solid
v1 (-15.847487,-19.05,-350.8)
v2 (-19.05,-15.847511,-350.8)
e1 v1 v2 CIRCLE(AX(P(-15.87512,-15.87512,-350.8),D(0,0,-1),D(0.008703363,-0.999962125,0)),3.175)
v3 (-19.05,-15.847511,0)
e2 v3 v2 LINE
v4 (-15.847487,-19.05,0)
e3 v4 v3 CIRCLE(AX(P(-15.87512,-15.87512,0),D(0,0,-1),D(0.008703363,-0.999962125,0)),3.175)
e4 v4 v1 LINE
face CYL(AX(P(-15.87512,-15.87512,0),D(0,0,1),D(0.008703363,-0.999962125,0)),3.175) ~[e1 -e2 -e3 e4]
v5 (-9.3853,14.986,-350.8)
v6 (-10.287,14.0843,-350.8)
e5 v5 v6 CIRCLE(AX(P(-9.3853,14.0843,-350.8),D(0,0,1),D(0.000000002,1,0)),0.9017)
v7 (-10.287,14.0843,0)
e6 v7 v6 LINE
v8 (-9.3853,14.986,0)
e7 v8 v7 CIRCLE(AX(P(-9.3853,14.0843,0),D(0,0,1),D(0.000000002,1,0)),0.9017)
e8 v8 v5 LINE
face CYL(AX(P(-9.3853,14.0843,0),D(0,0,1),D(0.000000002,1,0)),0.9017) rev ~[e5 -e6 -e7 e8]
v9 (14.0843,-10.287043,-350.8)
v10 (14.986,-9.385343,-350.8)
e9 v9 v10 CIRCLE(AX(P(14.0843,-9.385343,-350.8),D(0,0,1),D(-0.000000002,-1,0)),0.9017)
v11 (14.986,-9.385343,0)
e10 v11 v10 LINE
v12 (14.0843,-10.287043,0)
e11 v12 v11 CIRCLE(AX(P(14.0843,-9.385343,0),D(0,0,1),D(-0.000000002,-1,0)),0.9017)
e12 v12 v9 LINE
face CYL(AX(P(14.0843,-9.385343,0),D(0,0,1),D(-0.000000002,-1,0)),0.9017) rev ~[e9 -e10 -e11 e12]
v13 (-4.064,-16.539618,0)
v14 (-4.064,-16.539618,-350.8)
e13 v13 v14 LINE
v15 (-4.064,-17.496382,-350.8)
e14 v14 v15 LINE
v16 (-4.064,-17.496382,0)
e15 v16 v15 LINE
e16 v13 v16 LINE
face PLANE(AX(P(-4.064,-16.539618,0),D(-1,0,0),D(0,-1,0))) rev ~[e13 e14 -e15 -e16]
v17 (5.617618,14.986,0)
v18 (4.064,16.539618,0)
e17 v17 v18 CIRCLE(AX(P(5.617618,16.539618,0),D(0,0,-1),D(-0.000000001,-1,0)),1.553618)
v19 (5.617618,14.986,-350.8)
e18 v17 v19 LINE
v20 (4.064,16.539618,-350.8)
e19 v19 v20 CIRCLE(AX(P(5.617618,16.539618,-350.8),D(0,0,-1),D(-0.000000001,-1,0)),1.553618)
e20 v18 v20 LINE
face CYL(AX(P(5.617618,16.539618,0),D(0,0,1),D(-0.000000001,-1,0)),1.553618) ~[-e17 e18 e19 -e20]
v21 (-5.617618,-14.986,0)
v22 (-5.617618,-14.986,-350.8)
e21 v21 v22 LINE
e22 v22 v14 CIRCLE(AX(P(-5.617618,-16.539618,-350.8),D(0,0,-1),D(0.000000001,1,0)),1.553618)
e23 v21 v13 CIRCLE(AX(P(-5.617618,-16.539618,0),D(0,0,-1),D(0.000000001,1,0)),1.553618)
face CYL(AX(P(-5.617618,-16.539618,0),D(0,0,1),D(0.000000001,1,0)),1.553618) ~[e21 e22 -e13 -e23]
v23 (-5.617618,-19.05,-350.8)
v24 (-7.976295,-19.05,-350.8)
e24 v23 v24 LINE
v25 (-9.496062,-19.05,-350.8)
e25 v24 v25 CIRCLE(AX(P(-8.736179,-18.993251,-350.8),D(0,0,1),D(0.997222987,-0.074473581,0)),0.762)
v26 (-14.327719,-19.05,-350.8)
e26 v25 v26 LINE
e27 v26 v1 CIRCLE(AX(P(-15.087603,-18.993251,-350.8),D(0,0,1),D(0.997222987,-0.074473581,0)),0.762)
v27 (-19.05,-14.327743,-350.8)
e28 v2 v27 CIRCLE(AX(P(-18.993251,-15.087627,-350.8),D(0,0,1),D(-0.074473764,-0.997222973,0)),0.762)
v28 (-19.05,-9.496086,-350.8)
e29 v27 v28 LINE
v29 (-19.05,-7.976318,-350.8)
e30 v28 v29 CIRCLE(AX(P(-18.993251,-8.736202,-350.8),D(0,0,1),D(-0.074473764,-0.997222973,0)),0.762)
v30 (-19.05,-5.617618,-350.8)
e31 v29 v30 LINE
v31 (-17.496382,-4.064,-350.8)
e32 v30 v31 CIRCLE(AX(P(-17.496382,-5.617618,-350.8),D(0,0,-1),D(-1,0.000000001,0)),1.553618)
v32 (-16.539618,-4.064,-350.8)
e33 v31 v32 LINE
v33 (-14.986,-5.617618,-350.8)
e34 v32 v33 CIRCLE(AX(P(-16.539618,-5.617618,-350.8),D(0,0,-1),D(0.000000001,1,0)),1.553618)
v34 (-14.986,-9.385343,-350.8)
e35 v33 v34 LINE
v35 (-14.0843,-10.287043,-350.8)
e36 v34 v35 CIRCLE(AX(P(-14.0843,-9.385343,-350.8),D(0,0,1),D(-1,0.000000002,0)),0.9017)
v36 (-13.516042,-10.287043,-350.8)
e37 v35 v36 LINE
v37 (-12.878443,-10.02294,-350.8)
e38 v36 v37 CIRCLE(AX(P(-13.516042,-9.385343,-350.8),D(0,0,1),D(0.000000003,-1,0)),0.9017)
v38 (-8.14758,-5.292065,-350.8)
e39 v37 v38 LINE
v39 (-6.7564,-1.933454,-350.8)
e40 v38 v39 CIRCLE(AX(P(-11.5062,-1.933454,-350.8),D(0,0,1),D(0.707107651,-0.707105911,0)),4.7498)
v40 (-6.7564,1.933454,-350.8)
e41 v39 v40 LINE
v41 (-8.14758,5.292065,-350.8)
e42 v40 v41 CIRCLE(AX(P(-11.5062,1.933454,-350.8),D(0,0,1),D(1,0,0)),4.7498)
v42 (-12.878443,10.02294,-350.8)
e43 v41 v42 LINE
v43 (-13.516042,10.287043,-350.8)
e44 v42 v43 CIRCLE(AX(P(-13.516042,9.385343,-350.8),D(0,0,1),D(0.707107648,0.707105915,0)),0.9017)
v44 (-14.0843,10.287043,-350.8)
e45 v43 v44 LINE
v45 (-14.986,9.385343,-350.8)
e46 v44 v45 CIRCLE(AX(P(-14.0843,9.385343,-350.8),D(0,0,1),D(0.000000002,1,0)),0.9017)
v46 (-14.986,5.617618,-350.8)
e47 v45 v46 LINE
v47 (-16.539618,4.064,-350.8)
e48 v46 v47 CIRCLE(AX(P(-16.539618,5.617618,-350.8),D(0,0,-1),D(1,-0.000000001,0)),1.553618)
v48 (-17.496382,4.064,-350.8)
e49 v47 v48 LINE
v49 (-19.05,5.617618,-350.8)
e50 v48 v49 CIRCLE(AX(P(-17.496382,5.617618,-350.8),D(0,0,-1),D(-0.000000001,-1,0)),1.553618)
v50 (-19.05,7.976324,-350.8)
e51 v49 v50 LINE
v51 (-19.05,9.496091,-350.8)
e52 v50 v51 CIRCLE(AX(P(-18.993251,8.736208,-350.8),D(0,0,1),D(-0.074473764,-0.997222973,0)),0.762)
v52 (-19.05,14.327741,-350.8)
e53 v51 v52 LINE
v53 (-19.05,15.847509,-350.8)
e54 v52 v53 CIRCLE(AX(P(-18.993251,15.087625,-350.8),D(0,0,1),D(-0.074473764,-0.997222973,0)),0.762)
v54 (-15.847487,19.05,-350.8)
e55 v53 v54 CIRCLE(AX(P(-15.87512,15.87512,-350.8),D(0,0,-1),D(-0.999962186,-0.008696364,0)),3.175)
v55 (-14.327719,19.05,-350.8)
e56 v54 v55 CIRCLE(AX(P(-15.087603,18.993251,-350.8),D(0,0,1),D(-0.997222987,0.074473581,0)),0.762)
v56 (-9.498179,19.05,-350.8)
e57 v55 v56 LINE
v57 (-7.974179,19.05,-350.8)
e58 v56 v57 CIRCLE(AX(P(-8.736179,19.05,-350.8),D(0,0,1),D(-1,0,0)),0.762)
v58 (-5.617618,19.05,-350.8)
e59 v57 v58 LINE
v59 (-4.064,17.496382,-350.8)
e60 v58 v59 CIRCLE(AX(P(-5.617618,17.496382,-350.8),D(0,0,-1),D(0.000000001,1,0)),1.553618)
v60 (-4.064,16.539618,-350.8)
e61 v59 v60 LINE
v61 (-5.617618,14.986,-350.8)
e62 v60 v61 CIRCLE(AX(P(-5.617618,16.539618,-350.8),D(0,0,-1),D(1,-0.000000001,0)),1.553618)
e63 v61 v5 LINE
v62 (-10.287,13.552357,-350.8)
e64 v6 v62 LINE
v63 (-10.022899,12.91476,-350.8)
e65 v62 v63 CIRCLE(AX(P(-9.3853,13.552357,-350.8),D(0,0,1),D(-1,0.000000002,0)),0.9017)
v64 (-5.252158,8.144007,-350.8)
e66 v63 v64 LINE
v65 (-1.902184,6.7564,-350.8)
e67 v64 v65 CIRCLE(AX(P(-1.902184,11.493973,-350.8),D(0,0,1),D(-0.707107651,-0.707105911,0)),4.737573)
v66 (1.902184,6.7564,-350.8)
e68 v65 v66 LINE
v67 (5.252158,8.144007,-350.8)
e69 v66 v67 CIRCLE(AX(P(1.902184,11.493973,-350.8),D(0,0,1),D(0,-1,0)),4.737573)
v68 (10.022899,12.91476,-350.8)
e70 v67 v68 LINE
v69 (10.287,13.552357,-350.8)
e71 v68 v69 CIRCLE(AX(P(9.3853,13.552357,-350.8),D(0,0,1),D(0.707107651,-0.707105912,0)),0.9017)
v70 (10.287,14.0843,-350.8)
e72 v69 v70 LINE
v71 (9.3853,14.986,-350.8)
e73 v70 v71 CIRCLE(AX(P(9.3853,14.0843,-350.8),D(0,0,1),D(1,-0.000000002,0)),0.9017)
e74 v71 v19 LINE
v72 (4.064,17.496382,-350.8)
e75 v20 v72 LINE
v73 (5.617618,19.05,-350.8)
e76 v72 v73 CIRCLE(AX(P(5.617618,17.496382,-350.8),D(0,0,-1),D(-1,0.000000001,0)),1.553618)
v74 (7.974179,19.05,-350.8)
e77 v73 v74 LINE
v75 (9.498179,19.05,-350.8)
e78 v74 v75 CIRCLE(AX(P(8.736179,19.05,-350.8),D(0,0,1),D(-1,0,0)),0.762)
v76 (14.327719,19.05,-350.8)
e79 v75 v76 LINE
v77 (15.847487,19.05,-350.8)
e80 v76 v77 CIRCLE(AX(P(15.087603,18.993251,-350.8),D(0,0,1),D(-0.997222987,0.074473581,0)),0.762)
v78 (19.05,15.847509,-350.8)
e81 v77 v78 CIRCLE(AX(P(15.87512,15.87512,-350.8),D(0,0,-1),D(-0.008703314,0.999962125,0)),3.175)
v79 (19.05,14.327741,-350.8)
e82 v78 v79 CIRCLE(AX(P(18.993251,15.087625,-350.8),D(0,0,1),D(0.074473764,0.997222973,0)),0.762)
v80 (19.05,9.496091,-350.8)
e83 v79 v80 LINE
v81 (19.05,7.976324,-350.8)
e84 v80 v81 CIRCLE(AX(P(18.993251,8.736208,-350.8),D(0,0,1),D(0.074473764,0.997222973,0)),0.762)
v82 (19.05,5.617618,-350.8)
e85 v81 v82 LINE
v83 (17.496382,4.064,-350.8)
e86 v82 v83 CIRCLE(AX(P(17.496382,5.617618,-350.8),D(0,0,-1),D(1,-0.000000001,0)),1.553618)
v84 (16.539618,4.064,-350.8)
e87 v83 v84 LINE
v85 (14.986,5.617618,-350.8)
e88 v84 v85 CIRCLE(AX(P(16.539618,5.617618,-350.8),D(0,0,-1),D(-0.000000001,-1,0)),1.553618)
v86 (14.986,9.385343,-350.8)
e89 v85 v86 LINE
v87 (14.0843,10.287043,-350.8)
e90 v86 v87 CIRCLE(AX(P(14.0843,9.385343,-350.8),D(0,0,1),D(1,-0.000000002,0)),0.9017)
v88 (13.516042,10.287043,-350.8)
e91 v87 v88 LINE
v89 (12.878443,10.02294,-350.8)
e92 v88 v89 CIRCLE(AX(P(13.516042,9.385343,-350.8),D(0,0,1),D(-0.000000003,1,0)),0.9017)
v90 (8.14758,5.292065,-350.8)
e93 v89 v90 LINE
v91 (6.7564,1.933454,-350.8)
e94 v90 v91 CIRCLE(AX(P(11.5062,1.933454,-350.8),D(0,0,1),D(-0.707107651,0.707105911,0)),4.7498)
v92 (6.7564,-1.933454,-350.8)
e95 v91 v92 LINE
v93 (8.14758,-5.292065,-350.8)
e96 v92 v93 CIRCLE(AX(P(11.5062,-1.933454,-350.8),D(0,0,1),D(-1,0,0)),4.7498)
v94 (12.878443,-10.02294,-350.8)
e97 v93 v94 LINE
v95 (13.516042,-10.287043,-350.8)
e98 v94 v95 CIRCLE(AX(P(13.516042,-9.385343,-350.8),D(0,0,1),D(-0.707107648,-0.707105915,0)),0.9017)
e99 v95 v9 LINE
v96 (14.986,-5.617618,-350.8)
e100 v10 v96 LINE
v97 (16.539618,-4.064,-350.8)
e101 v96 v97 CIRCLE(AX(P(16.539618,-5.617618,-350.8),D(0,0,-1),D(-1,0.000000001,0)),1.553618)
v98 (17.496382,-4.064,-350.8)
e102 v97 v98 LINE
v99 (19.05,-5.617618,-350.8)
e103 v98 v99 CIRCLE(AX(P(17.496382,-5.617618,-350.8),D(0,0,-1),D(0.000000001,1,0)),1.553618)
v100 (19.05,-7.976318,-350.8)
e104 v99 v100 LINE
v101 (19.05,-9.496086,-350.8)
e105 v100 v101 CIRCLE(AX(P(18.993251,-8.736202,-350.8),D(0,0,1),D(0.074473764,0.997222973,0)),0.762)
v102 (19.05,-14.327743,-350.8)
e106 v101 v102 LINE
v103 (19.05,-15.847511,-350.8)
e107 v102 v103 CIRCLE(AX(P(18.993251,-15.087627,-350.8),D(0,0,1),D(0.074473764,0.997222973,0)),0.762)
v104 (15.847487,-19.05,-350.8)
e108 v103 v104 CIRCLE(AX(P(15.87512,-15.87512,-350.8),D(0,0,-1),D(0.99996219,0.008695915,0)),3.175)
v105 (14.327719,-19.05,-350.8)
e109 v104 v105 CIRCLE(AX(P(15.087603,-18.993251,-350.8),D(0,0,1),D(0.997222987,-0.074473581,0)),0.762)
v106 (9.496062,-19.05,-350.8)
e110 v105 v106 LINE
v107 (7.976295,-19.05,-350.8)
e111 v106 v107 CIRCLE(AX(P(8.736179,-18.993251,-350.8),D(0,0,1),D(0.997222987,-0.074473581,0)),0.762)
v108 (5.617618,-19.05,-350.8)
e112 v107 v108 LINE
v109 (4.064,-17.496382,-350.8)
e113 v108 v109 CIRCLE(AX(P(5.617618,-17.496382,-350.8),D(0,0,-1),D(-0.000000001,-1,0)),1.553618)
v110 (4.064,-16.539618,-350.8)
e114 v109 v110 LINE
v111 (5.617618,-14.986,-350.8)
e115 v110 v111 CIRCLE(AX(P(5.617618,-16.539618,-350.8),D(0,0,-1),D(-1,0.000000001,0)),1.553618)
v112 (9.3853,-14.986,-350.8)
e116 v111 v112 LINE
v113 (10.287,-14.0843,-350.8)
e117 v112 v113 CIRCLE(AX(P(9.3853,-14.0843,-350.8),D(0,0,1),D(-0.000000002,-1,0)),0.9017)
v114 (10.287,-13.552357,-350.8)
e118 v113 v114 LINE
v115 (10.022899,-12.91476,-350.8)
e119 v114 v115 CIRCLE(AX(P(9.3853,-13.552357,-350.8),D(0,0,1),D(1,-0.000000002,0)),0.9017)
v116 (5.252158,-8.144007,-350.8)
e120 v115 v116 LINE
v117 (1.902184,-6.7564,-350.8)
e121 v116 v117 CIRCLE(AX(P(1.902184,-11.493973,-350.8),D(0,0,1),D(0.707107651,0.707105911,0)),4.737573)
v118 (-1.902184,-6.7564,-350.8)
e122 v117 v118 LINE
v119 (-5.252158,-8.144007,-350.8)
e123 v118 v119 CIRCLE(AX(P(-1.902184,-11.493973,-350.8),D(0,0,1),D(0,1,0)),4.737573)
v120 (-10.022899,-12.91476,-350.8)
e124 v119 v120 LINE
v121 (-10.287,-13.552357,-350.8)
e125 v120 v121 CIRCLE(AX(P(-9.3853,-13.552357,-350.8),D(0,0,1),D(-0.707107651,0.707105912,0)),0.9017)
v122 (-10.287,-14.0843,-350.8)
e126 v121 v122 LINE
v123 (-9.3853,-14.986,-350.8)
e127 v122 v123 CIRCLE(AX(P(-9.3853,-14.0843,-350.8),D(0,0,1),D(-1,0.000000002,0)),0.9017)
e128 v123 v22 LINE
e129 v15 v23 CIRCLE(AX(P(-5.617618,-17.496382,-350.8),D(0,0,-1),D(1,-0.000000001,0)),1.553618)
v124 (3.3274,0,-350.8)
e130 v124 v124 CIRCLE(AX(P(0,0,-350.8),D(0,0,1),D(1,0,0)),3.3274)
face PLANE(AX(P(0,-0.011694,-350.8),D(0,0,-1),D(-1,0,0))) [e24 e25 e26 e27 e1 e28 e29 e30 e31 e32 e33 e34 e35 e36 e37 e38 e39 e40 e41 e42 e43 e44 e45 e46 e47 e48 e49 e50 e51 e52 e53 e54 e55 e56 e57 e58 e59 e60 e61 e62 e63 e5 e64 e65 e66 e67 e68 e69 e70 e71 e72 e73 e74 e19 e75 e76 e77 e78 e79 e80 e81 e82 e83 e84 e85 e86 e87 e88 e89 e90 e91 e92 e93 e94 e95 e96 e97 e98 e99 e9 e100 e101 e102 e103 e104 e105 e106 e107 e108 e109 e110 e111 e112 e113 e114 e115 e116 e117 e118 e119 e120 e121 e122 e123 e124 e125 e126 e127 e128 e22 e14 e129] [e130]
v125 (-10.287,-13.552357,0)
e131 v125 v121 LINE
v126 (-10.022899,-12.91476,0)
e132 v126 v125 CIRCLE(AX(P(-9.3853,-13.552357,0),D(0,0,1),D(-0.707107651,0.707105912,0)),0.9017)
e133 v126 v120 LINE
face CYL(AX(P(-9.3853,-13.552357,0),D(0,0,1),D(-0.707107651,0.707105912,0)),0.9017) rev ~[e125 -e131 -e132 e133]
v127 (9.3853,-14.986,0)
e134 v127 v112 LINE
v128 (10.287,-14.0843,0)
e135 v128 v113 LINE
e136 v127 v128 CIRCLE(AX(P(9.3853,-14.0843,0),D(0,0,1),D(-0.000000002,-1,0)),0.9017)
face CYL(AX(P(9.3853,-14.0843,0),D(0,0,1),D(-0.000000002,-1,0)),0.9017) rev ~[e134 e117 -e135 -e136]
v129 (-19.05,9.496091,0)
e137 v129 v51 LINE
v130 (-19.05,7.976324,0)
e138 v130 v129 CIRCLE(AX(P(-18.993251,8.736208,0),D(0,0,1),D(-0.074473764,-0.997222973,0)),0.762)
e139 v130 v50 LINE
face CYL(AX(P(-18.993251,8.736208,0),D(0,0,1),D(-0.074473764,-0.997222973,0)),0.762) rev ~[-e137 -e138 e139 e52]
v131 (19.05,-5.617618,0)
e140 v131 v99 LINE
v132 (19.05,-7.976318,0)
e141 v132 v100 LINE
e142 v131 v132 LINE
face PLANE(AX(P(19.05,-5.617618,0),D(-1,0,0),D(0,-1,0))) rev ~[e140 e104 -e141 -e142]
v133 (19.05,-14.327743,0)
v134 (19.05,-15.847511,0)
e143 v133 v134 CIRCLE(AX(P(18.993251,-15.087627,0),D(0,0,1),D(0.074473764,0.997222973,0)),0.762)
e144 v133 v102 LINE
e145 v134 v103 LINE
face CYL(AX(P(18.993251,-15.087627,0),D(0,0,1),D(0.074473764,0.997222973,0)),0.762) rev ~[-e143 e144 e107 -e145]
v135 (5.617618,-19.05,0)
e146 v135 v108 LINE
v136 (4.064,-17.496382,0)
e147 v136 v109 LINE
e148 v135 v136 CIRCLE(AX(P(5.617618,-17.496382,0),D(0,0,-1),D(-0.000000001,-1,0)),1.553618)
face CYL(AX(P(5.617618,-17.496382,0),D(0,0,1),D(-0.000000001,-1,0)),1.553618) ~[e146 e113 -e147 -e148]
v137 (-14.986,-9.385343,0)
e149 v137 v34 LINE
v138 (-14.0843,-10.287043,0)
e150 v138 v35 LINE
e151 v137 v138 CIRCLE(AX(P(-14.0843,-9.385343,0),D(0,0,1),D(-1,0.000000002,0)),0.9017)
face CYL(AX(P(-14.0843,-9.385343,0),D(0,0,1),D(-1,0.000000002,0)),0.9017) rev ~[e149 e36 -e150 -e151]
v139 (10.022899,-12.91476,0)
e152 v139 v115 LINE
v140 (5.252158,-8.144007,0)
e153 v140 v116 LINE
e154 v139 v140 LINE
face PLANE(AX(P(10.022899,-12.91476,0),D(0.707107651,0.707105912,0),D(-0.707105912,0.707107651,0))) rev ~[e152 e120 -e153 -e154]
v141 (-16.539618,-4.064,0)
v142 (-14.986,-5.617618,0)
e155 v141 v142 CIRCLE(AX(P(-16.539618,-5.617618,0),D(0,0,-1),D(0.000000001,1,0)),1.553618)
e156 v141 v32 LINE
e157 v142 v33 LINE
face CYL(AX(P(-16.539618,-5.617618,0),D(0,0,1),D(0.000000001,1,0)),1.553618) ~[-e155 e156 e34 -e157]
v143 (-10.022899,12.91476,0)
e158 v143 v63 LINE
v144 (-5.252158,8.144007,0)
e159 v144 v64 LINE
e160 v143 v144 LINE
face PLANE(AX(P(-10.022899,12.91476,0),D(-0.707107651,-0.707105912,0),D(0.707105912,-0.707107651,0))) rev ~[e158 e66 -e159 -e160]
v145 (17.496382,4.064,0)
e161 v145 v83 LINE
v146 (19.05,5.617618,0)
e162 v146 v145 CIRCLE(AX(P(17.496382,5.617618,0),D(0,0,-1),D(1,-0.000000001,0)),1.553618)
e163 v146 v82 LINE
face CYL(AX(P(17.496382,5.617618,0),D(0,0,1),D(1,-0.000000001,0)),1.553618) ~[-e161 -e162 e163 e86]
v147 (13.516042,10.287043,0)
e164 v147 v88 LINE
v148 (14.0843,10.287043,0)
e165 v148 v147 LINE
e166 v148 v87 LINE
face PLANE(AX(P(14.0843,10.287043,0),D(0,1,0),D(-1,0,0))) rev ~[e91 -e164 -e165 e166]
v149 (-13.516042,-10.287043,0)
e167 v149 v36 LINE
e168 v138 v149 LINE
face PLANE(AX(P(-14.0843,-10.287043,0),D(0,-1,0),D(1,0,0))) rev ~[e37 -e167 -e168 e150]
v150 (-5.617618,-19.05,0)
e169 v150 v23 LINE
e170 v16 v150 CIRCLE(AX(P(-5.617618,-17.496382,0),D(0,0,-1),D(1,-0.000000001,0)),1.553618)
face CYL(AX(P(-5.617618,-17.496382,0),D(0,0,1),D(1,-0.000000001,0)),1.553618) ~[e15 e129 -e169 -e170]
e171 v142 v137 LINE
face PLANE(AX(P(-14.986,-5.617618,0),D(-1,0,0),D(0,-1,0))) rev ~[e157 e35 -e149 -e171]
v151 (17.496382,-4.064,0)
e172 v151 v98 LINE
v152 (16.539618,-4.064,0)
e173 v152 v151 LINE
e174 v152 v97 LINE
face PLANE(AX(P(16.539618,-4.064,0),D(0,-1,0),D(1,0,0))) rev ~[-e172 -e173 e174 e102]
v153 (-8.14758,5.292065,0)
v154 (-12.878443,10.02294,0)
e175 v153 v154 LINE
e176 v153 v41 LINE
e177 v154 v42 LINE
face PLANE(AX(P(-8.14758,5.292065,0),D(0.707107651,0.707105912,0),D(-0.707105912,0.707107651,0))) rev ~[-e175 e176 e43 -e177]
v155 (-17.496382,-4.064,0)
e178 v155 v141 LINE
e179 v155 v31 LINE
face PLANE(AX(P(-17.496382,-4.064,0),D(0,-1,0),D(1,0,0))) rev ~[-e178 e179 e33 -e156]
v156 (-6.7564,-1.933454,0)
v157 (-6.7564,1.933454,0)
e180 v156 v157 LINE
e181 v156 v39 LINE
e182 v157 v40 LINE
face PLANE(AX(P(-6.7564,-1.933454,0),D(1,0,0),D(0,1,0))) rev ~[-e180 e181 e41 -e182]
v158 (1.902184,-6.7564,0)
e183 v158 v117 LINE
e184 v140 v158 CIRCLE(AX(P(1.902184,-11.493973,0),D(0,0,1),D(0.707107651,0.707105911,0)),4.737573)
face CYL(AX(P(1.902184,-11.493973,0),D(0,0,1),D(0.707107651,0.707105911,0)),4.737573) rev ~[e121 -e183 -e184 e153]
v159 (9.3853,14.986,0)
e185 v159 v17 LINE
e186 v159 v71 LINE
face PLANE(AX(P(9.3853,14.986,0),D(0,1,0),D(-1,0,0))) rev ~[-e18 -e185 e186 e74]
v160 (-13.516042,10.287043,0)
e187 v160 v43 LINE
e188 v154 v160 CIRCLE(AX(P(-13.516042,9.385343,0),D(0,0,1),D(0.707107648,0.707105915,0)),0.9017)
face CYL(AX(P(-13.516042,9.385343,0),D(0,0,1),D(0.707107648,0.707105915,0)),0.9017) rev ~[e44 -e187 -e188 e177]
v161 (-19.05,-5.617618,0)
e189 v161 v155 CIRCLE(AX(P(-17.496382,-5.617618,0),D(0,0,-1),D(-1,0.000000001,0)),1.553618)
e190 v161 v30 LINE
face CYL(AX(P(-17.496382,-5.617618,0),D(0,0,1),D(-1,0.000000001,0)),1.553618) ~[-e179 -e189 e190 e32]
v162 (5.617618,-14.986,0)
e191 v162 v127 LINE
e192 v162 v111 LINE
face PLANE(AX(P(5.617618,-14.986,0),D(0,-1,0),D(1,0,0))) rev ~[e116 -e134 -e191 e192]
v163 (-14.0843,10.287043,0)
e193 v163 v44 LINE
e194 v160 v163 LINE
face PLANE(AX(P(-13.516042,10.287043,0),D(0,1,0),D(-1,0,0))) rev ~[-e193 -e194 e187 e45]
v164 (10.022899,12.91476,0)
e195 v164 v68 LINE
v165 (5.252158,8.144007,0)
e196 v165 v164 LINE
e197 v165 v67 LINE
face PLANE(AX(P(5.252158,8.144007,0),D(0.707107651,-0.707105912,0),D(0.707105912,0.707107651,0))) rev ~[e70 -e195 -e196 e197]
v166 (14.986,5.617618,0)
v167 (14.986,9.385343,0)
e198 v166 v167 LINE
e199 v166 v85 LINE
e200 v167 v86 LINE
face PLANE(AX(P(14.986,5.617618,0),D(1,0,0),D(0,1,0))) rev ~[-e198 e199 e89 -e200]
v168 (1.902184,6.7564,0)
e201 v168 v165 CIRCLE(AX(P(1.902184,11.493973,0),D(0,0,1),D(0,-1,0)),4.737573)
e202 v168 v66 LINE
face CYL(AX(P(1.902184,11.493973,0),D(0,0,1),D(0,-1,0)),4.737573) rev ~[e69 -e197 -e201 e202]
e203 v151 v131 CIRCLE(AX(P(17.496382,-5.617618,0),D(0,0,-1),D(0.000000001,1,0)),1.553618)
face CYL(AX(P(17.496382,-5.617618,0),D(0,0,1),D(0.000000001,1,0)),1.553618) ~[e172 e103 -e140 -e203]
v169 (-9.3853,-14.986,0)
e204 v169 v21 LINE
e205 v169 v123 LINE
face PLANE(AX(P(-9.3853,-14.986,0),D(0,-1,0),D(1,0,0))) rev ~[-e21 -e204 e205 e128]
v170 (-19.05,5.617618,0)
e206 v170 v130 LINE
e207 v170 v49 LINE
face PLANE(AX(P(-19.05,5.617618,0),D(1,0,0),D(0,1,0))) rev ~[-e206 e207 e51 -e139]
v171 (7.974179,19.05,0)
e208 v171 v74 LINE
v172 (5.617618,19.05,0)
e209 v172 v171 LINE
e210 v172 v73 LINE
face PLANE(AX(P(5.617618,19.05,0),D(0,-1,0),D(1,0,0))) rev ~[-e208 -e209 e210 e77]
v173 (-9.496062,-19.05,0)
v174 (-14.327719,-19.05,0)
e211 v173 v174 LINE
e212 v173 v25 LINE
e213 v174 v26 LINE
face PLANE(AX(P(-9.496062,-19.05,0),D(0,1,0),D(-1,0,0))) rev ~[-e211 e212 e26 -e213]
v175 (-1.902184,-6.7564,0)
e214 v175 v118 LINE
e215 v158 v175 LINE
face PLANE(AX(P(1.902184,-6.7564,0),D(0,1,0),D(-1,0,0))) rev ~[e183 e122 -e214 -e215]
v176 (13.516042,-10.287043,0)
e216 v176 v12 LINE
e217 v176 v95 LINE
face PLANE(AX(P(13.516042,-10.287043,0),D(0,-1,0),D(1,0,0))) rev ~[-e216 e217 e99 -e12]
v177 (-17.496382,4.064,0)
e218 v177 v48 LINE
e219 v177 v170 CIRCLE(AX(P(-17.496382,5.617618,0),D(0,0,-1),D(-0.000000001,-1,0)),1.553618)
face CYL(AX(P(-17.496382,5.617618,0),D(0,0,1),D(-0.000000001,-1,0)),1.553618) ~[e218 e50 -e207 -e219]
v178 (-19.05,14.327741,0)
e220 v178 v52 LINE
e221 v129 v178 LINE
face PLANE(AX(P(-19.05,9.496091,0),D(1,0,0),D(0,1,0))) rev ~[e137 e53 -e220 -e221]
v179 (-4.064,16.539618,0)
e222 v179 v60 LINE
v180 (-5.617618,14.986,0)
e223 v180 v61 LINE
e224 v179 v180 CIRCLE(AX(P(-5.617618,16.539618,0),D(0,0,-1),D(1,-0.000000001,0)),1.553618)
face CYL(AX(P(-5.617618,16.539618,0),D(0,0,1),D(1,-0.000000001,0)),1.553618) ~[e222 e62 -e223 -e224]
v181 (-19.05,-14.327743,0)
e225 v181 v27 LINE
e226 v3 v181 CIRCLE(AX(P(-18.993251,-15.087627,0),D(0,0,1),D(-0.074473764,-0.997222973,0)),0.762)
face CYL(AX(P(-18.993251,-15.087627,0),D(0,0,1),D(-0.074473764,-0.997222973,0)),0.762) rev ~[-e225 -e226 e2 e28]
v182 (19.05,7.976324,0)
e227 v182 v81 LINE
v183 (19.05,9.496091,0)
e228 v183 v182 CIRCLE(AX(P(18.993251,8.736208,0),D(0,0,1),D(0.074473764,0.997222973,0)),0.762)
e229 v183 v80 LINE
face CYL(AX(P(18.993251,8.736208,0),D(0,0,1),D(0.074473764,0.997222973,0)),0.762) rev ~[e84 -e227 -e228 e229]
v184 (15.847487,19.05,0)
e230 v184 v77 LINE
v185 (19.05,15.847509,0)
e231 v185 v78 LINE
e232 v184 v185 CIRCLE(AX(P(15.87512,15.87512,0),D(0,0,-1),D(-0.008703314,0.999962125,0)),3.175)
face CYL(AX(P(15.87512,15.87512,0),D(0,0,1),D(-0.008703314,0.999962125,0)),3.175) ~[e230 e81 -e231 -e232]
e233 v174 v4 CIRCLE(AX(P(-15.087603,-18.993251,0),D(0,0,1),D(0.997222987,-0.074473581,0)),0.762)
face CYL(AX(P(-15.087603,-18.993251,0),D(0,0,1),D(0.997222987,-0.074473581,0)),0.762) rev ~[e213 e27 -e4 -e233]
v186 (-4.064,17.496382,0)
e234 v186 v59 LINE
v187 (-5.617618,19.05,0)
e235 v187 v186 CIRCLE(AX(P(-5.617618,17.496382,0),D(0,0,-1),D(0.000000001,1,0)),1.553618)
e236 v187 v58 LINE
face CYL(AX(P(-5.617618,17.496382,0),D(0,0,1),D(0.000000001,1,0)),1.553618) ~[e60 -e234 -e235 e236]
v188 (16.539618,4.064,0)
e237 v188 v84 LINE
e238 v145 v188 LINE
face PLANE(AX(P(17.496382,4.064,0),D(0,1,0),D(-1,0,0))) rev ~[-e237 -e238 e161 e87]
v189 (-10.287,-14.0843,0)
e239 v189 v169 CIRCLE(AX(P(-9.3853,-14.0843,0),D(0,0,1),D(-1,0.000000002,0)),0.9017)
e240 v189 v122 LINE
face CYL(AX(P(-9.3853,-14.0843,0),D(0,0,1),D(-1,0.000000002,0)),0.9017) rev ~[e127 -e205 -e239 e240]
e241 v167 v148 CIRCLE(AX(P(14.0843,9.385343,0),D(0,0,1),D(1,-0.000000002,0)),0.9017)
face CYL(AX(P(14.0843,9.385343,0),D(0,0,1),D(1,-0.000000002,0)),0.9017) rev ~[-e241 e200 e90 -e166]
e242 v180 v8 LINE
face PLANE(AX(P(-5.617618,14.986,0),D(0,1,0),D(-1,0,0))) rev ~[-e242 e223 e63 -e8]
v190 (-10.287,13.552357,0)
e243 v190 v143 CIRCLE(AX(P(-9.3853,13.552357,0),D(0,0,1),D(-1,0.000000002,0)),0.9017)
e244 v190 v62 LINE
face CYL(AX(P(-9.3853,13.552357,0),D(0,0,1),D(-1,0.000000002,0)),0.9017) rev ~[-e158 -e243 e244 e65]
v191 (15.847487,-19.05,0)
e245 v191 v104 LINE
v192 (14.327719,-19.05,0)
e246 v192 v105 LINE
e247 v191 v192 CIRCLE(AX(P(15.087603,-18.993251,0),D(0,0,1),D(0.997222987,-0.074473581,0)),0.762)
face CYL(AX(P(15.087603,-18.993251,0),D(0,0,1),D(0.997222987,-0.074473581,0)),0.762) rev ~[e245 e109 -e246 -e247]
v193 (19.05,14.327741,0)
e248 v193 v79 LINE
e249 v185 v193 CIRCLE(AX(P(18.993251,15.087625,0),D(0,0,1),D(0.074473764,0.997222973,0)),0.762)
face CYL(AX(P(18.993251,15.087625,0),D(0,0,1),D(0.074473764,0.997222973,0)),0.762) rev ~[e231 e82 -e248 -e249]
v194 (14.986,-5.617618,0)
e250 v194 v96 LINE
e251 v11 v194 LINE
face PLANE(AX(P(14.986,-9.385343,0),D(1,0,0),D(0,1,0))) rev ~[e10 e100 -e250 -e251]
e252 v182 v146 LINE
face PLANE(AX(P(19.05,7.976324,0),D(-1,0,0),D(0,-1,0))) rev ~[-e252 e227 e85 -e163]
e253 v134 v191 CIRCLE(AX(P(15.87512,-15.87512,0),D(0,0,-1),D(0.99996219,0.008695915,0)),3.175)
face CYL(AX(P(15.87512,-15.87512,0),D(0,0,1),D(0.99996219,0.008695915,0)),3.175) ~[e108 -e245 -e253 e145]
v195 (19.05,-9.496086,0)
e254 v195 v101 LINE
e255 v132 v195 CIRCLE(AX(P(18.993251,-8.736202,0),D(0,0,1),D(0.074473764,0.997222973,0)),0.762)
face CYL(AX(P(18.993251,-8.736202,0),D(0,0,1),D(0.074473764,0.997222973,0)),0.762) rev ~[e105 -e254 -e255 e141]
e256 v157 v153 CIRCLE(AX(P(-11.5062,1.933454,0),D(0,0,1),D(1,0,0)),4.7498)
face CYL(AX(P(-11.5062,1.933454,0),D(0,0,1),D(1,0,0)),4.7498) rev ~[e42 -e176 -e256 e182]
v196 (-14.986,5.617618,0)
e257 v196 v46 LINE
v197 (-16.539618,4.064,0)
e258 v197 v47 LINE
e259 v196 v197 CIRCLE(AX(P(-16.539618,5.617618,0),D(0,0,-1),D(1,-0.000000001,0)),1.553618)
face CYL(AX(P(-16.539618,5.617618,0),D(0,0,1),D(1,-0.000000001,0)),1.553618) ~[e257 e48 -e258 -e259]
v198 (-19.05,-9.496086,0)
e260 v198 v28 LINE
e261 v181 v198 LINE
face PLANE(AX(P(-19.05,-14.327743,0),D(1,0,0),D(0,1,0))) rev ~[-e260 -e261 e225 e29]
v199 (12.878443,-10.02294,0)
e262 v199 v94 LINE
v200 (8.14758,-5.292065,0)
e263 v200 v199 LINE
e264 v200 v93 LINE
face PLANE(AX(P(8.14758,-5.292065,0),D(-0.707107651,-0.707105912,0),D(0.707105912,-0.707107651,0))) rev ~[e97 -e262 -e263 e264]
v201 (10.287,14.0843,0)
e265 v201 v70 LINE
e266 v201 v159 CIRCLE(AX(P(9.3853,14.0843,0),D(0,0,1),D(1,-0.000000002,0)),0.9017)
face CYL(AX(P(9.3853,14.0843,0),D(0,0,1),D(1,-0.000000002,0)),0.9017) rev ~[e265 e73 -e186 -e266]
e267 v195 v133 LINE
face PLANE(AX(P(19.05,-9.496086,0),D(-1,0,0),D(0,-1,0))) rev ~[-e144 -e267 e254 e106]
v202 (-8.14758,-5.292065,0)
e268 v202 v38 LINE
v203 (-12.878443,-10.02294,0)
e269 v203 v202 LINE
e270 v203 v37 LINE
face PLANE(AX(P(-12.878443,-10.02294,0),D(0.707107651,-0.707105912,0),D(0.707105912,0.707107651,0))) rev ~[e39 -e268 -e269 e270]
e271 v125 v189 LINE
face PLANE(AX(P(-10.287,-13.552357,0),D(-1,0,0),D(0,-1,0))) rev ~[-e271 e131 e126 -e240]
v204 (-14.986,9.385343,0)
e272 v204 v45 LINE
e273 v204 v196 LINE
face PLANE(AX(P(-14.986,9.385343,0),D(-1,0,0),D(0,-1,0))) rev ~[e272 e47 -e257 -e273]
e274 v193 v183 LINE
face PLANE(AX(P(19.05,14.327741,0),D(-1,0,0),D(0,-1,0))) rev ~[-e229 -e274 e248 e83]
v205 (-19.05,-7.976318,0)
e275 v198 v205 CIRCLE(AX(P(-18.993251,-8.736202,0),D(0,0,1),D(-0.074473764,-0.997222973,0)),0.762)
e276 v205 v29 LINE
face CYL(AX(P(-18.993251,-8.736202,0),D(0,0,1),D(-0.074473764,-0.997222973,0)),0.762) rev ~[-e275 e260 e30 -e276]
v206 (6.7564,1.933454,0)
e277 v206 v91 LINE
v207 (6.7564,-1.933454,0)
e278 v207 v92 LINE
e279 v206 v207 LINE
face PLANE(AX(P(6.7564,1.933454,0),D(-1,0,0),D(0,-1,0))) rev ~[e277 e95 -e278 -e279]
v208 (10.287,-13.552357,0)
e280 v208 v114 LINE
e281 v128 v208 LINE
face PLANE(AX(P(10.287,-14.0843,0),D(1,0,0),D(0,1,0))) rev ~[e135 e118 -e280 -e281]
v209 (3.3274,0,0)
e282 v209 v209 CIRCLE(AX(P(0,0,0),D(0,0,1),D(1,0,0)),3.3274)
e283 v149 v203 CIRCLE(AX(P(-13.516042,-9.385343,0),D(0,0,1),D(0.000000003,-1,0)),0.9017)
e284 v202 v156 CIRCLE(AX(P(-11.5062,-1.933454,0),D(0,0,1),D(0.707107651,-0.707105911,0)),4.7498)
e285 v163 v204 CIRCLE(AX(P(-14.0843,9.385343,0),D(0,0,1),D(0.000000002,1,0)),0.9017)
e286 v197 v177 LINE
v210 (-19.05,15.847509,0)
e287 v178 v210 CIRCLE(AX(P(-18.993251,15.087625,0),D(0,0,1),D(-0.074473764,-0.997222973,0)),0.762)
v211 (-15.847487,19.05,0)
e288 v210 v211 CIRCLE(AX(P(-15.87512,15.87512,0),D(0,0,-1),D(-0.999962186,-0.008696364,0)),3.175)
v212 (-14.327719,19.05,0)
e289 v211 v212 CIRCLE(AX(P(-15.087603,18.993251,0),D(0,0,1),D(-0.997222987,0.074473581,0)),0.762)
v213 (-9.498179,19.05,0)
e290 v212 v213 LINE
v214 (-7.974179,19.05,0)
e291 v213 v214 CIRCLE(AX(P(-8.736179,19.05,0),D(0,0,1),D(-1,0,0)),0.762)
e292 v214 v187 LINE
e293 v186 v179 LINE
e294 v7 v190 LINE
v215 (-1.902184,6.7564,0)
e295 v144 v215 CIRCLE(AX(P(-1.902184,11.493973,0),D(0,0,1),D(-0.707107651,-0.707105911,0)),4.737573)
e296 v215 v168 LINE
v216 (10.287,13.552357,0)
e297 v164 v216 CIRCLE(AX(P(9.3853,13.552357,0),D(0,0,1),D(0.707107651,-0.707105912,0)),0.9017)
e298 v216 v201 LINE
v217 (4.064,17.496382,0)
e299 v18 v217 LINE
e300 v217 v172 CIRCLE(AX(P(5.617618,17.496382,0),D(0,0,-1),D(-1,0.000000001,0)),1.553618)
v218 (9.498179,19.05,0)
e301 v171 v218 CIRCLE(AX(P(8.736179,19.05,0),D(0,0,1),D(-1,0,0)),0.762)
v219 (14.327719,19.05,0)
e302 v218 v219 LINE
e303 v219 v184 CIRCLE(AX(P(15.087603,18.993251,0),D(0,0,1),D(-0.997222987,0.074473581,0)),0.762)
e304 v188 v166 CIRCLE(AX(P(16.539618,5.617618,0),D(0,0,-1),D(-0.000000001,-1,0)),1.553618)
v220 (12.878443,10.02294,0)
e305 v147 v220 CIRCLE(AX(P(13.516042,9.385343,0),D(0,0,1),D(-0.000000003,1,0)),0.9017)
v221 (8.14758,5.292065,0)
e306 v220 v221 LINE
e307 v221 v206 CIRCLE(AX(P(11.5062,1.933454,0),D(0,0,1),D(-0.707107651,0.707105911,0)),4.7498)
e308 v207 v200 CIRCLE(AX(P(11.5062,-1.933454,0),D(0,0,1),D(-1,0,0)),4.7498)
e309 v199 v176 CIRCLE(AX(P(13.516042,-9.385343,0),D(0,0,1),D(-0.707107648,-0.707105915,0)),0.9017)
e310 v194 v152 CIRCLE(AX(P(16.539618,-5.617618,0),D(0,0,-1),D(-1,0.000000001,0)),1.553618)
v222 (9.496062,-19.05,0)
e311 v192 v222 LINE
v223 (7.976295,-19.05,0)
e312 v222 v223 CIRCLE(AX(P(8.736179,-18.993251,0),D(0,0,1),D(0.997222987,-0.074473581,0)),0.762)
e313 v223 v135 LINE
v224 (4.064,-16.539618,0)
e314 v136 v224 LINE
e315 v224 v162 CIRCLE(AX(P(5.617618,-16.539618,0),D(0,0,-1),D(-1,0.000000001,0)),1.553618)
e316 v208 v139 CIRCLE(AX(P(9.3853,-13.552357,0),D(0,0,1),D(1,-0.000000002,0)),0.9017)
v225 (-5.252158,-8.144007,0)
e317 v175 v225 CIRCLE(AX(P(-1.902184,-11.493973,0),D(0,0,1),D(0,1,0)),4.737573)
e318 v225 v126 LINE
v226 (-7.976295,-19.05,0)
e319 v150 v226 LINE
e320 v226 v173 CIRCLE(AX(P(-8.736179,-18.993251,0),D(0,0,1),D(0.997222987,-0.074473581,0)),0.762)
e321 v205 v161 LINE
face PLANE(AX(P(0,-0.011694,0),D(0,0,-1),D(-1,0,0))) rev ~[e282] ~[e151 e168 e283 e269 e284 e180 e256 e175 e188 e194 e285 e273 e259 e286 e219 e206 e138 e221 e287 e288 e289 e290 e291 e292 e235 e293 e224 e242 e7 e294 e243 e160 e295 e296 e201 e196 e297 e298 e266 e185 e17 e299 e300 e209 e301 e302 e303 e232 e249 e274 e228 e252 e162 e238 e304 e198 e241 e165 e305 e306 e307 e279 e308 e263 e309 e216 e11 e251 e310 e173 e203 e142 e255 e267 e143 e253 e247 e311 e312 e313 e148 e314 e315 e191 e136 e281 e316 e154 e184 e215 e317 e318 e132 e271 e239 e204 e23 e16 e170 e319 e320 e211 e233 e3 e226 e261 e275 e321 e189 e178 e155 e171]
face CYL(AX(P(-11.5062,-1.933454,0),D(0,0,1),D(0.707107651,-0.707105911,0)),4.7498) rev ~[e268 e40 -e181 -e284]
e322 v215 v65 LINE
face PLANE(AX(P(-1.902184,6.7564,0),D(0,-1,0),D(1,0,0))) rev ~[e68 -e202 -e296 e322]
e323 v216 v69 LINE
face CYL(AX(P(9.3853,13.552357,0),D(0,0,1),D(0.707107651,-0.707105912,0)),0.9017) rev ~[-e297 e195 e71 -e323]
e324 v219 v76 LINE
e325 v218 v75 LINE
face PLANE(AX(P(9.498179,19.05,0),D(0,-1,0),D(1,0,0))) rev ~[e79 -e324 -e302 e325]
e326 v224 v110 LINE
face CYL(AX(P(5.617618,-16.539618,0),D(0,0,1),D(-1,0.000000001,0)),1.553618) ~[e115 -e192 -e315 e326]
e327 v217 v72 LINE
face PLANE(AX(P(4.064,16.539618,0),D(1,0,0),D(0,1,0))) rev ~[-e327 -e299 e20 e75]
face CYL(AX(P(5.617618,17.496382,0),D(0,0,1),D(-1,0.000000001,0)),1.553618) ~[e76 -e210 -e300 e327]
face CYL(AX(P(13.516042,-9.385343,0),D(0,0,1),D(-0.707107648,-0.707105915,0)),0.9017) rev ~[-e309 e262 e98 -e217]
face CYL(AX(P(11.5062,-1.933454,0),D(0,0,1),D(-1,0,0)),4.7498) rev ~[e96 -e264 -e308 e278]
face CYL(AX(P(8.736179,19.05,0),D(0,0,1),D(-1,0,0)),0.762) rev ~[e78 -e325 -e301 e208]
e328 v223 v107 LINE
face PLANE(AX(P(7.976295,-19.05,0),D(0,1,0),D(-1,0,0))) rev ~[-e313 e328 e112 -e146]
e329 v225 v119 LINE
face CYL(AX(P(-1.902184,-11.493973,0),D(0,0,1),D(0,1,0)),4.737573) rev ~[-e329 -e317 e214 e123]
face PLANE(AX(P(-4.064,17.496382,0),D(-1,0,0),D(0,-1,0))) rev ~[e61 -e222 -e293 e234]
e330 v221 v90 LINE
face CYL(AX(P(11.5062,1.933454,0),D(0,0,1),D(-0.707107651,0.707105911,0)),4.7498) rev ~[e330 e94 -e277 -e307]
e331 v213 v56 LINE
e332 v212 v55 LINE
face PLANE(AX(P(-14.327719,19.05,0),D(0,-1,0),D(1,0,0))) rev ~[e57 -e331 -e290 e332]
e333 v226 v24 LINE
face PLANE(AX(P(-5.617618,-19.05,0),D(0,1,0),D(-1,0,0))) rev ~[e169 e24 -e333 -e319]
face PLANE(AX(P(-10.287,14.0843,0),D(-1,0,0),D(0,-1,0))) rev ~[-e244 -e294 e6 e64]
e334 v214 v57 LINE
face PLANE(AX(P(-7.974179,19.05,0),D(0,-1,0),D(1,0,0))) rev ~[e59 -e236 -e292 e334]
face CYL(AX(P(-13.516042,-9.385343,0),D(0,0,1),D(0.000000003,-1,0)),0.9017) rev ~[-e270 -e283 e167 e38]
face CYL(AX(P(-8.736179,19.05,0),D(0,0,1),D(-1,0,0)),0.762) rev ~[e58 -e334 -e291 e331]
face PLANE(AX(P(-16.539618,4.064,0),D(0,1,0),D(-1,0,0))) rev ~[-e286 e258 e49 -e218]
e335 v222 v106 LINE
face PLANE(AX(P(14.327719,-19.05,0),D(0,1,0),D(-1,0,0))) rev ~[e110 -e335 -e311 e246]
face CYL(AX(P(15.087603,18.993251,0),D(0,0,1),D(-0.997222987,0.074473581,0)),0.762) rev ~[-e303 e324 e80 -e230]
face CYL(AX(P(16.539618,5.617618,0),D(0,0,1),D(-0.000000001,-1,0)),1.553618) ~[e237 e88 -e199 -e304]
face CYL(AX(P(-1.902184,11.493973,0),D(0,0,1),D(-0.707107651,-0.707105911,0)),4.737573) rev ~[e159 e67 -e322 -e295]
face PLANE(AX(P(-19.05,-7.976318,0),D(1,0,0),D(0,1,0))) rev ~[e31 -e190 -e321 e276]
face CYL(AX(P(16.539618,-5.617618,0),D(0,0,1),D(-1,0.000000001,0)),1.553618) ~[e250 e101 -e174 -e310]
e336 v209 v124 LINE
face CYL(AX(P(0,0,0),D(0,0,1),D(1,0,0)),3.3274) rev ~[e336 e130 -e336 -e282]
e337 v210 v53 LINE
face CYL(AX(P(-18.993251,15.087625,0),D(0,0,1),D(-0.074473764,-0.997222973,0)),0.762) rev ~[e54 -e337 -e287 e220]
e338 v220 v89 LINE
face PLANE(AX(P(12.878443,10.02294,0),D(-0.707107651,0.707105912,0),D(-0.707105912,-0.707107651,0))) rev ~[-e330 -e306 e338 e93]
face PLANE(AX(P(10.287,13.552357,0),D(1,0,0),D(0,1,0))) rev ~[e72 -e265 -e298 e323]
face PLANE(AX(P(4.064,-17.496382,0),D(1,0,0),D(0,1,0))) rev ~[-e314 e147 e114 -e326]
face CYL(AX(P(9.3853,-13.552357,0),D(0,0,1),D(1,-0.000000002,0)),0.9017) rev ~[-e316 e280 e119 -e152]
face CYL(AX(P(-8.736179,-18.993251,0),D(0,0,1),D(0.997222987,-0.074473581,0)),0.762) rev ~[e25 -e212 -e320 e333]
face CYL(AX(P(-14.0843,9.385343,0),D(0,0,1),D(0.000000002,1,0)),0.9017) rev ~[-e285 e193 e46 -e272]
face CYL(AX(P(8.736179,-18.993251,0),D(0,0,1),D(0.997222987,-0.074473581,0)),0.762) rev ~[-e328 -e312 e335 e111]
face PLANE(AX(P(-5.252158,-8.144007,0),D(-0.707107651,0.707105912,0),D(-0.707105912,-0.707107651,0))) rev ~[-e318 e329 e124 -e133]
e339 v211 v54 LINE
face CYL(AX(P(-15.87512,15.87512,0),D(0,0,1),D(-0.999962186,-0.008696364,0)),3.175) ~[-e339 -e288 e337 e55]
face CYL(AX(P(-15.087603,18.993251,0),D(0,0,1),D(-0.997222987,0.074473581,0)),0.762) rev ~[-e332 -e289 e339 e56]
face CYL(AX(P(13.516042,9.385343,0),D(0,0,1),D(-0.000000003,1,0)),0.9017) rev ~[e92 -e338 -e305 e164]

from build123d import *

# Parameters (mm, degrees)
SKETCH1_R      = 3.3274
EXTRUDE1_DEPTH = 350.8


with BuildPart() as part:
    # Sketch1 → Extrude1 (new body)
    with BuildSketch(Plane.XY):
        with BuildLine():
            Line((-10.022898969, 12.91475973), (-5.252158105, 8.144007132))
            ThreePointArc((-5.252158105, 8.144007132), (-3.715177372, 7.117027388), (-1.902183975, 6.7564))
            Line((-1.902183975, 6.7564), (1.902183975, 6.7564))
            ThreePointArc((1.902183975, 6.7564), (3.715177372, 7.117027388), (5.252158105, 8.144007132))
            Line((5.252158105, 8.144007132), (10.022898969, 12.91475973))
            ThreePointArc((10.022898969, 12.91475973), (10.218362387, 13.207291992), (10.287, 13.552357131))
            Line((10.287, 13.552357131), (10.287, 14.0843))
            ThreePointArc((10.287, 14.0843), (10.022898185, 14.721898185), (9.3853, 14.986))
            Line((9.3853, 14.986), (5.617617549, 14.986))
            ThreePointArc((5.617617549, 14.986), (4.519044045, 15.441044045), (4.064, 16.539617549))
            Line((4.064, 16.539617549), (4.064, 17.496382451))
            ThreePointArc((4.064, 17.496382451), (4.519044045, 18.594955955), (5.617617549, 19.05))
            Line((5.617617549, 19.05), (7.974178704, 19.05))
            ThreePointArc((7.974178704, 19.05), (8.736178704, 18.288), (9.498178704, 19.05))
            Line((9.498178704, 19.05), (14.327719207, 19.05))
            ThreePointArc((14.327719207, 19.05), (15.087603123, 18.231251131), (15.847487039, 19.05))
            ThreePointArc((15.847487039, 19.05), (18.120176289, 18.120192083), (19.05, 15.847509295))
            ThreePointArc((19.05, 15.847509295), (18.231250992, 15.08762539), (19.05, 14.327741484))
            Line((19.05, 14.327741484), (19.05, 9.496091471))
            ThreePointArc((19.05, 9.496091471), (18.231250992, 8.736207565), (19.05, 7.97632366))
            Line((19.05, 7.97632366), (19.05, 5.617617549))
            ThreePointArc((19.05, 5.617617549), (18.594955955, 4.519044045), (17.496382451, 4.064))
            Line((17.496382451, 4.064), (16.539617549, 4.064))
            ThreePointArc((16.539617549, 4.064), (15.441044045, 4.519044045), (14.986, 5.617617549))
            Line((14.986, 5.617617549), (14.986, 9.385342516))
            ThreePointArc((14.986, 9.385342516), (14.721898185, 10.022940701), (14.0843, 10.287042516))
            Line((14.0843, 10.287042516), (13.516042086, 10.287042516))
            ThreePointArc((13.516042086, 10.287042516), (13.170975923, 10.218404478), (12.878443117, 10.022939917))
            Line((12.878443117, 10.022939917), (8.14758008, 5.292065243))
            ThreePointArc((8.14758008, 5.292065243), (7.117955879, 3.751120653), (6.7564, 1.933453584))
            Line((6.7564, 1.933453584), (6.7564, -1.933453584))
            ThreePointArc((6.7564, -1.933453584), (7.117955879, -3.751120653), (8.14758008, -5.292065243))
            Line((8.14758008, -5.292065243), (12.878443117, -10.022939917))
            ThreePointArc((12.878443117, -10.022939917), (13.170975923, -10.218404478), (13.516042086, -10.287042516))
            Line((13.516042086, -10.287042516), (14.0843, -10.287042516))
            ThreePointArc((14.0843, -10.287042516), (14.721898185, -10.022940701), (14.986, -9.385342516))
            Line((14.986, -9.385342516), (14.986, -5.617617549))
            ThreePointArc((14.986, -5.617617549), (15.441044045, -4.519044045), (16.539617549, -4.064))
            Line((16.539617549, -4.064), (17.496382451, -4.064))
            ThreePointArc((17.496382451, -4.064), (18.594955955, -4.519044045), (19.05, -5.617617549))
            Line((19.05, -5.617617549), (19.05, -7.976318491))
            ThreePointArc((19.05, -7.976318491), (18.231250992, -8.736202396), (19.05, -9.496086302))
            Line((19.05, -9.496086302), (19.05, -14.32774291))
            ThreePointArc((19.05, -14.32774291), (18.231250992, -15.087626816), (19.05, -15.847510721))
            ThreePointArc((19.05, -15.847510721), (18.120175716, -18.120192644), (15.847486868, -19.05))
            ThreePointArc((15.847486868, -19.05), (15.087602952, -18.231251131), (14.327719036, -19.05))
            Line((14.327719036, -19.05), (9.496062448, -19.05))
            ThreePointArc((9.496062448, -19.05), (8.736178532, -18.231251131), (7.976294616, -19.05))
            Line((7.976294616, -19.05), (5.617617549, -19.05))
            ThreePointArc((5.617617549, -19.05), (4.519044045, -18.594955955), (4.064, -17.496382451))
            Line((4.064, -17.496382451), (4.064, -16.539617549))
            ThreePointArc((4.064, -16.539617549), (4.519044045, -15.441044045), (5.617617549, -14.986))
            Line((5.617617549, -14.986), (9.3853, -14.986))
            ThreePointArc((9.3853, -14.986), (10.022898185, -14.721898185), (10.287, -14.0843))
            Line((10.287, -14.0843), (10.287, -13.552357131))
            ThreePointArc((10.287, -13.552357131), (10.218362387, -13.207291992), (10.022898969, -12.91475973))
            Line((10.022898969, -12.91475973), (5.252158105, -8.144007132))
            ThreePointArc((5.252158105, -8.144007132), (3.715177372, -7.117027388), (1.902183975, -6.7564))
            Line((1.902183975, -6.7564), (-1.902183975, -6.7564))
            ThreePointArc((-1.902183975, -6.7564), (-3.715177372, -7.117027388), (-5.252158105, -8.144007132))
            Line((-5.252158105, -8.144007132), (-10.022898969, -12.91475973))
            ThreePointArc((-10.022898969, -12.91475973), (-10.218362387, -13.207291992), (-10.287, -13.552357131))
            Line((-10.287, -13.552357131), (-10.287, -14.0843))
            ThreePointArc((-10.287, -14.0843), (-10.022898185, -14.721898185), (-9.3853, -14.986))
            Line((-9.3853, -14.986), (-5.617617549, -14.986))
            ThreePointArc((-5.617617549, -14.986), (-4.519044045, -15.441044045), (-4.064, -16.539617549))
            Line((-4.064, -16.539617549), (-4.064, -17.496382451))
            ThreePointArc((-4.064, -17.496382451), (-4.519044045, -18.594955955), (-5.617617549, -19.05))
            Line((-5.617617549, -19.05), (-7.976294616, -19.05))
            ThreePointArc((-7.976294616, -19.05), (-8.736178532, -18.231251131), (-9.496062448, -19.05))
            Line((-9.496062448, -19.05), (-14.327719036, -19.05))
            ThreePointArc((-14.327719036, -19.05), (-15.087602952, -18.231251131), (-15.847486868, -19.05))
            ThreePointArc((-15.847486868, -19.05), (-18.120175716, -18.120192644), (-19.05, -15.847510721))
            ThreePointArc((-19.05, -15.847510721), (-18.231250992, -15.087626816), (-19.05, -14.32774291))
            Line((-19.05, -14.32774291), (-19.05, -9.496086302))
            ThreePointArc((-19.05, -9.496086302), (-18.231250992, -8.736202396), (-19.05, -7.976318491))
            Line((-19.05, -7.976318491), (-19.05, -5.617617549))
            ThreePointArc((-19.05, -5.617617549), (-18.594955955, -4.519044045), (-17.496382451, -4.064))
            Line((-17.496382451, -4.064), (-16.539617549, -4.064))
            ThreePointArc((-16.539617549, -4.064), (-15.441044045, -4.519044045), (-14.986, -5.617617549))
            Line((-14.986, -5.617617549), (-14.986, -9.385342516))
            ThreePointArc((-14.986, -9.385342516), (-14.721898185, -10.022940701), (-14.0843, -10.287042516))
            Line((-14.0843, -10.287042516), (-13.516042086, -10.287042516))
            ThreePointArc((-13.516042086, -10.287042516), (-13.170975923, -10.218404478), (-12.878443117, -10.022939917))
            Line((-12.878443117, -10.022939917), (-8.14758008, -5.292065243))
            ThreePointArc((-8.14758008, -5.292065243), (-7.117955879, -3.751120653), (-6.7564, -1.933453584))
            Line((-6.7564, -1.933453584), (-6.7564, 1.933453584))
            ThreePointArc((-6.7564, 1.933453584), (-7.117955879, 3.751120653), (-8.14758008, 5.292065243))
            Line((-8.14758008, 5.292065243), (-12.878443117, 10.022939917))
            ThreePointArc((-12.878443117, 10.022939917), (-13.170975923, 10.218404478), (-13.516042086, 10.287042516))
            Line((-13.516042086, 10.287042516), (-14.0843, 10.287042516))
            ThreePointArc((-14.0843, 10.287042516), (-14.721898185, 10.022940701), (-14.986, 9.385342516))
            Line((-14.986, 9.385342516), (-14.986, 5.617617549))
            ThreePointArc((-14.986, 5.617617549), (-15.441044045, 4.519044045), (-16.539617549, 4.064))
            Line((-16.539617549, 4.064), (-17.496382451, 4.064))
            ThreePointArc((-17.496382451, 4.064), (-18.594955955, 4.519044045), (-19.05, 5.617617549))
            Line((-19.05, 5.617617549), (-19.05, 7.97632366))
            ThreePointArc((-19.05, 7.97632366), (-18.231250992, 8.736207565), (-19.05, 9.496091471))
            Line((-19.05, 9.496091471), (-19.05, 14.327741484))
            ThreePointArc((-19.05, 14.327741484), (-18.231250992, 15.08762539), (-19.05, 15.847509295))
            ThreePointArc((-19.05, 15.847509295), (-18.120176289, 18.120192083), (-15.847487039, 19.05))
            ThreePointArc((-15.847487039, 19.05), (-15.087603123, 18.231251131), (-14.327719207, 19.05))
            Line((-14.327719207, 19.05), (-9.498178704, 19.05))
            ThreePointArc((-9.498178704, 19.05), (-8.736178704, 18.288), (-7.974178704, 19.05))
            Line((-7.974178704, 19.05), (-5.617617549, 19.05))
            ThreePointArc((-5.617617549, 19.05), (-4.519044045, 18.594955955), (-4.064, 17.496382451))
            Line((-4.064, 17.496382451), (-4.064, 16.539617549))
            ThreePointArc((-4.064, 16.539617549), (-4.519044045, 15.441044045), (-5.617617549, 14.986))
            Line((-5.617617549, 14.986), (-9.3853, 14.986))
            ThreePointArc((-9.3853, 14.986), (-10.022898185, 14.721898185), (-10.287, 14.0843))
            Line((-10.287, 14.0843), (-10.287, 13.552357131))
            ThreePointArc((-10.287, 13.552357131), (-10.218362387, 13.207291992), (-10.022898969, 12.91475973))
        make_face()
        Circle(SKETCH1_R, mode=Mode.SUBTRACT)
    extrude(amount=-EXTRUDE1_DEPTH)


solid = part.part
